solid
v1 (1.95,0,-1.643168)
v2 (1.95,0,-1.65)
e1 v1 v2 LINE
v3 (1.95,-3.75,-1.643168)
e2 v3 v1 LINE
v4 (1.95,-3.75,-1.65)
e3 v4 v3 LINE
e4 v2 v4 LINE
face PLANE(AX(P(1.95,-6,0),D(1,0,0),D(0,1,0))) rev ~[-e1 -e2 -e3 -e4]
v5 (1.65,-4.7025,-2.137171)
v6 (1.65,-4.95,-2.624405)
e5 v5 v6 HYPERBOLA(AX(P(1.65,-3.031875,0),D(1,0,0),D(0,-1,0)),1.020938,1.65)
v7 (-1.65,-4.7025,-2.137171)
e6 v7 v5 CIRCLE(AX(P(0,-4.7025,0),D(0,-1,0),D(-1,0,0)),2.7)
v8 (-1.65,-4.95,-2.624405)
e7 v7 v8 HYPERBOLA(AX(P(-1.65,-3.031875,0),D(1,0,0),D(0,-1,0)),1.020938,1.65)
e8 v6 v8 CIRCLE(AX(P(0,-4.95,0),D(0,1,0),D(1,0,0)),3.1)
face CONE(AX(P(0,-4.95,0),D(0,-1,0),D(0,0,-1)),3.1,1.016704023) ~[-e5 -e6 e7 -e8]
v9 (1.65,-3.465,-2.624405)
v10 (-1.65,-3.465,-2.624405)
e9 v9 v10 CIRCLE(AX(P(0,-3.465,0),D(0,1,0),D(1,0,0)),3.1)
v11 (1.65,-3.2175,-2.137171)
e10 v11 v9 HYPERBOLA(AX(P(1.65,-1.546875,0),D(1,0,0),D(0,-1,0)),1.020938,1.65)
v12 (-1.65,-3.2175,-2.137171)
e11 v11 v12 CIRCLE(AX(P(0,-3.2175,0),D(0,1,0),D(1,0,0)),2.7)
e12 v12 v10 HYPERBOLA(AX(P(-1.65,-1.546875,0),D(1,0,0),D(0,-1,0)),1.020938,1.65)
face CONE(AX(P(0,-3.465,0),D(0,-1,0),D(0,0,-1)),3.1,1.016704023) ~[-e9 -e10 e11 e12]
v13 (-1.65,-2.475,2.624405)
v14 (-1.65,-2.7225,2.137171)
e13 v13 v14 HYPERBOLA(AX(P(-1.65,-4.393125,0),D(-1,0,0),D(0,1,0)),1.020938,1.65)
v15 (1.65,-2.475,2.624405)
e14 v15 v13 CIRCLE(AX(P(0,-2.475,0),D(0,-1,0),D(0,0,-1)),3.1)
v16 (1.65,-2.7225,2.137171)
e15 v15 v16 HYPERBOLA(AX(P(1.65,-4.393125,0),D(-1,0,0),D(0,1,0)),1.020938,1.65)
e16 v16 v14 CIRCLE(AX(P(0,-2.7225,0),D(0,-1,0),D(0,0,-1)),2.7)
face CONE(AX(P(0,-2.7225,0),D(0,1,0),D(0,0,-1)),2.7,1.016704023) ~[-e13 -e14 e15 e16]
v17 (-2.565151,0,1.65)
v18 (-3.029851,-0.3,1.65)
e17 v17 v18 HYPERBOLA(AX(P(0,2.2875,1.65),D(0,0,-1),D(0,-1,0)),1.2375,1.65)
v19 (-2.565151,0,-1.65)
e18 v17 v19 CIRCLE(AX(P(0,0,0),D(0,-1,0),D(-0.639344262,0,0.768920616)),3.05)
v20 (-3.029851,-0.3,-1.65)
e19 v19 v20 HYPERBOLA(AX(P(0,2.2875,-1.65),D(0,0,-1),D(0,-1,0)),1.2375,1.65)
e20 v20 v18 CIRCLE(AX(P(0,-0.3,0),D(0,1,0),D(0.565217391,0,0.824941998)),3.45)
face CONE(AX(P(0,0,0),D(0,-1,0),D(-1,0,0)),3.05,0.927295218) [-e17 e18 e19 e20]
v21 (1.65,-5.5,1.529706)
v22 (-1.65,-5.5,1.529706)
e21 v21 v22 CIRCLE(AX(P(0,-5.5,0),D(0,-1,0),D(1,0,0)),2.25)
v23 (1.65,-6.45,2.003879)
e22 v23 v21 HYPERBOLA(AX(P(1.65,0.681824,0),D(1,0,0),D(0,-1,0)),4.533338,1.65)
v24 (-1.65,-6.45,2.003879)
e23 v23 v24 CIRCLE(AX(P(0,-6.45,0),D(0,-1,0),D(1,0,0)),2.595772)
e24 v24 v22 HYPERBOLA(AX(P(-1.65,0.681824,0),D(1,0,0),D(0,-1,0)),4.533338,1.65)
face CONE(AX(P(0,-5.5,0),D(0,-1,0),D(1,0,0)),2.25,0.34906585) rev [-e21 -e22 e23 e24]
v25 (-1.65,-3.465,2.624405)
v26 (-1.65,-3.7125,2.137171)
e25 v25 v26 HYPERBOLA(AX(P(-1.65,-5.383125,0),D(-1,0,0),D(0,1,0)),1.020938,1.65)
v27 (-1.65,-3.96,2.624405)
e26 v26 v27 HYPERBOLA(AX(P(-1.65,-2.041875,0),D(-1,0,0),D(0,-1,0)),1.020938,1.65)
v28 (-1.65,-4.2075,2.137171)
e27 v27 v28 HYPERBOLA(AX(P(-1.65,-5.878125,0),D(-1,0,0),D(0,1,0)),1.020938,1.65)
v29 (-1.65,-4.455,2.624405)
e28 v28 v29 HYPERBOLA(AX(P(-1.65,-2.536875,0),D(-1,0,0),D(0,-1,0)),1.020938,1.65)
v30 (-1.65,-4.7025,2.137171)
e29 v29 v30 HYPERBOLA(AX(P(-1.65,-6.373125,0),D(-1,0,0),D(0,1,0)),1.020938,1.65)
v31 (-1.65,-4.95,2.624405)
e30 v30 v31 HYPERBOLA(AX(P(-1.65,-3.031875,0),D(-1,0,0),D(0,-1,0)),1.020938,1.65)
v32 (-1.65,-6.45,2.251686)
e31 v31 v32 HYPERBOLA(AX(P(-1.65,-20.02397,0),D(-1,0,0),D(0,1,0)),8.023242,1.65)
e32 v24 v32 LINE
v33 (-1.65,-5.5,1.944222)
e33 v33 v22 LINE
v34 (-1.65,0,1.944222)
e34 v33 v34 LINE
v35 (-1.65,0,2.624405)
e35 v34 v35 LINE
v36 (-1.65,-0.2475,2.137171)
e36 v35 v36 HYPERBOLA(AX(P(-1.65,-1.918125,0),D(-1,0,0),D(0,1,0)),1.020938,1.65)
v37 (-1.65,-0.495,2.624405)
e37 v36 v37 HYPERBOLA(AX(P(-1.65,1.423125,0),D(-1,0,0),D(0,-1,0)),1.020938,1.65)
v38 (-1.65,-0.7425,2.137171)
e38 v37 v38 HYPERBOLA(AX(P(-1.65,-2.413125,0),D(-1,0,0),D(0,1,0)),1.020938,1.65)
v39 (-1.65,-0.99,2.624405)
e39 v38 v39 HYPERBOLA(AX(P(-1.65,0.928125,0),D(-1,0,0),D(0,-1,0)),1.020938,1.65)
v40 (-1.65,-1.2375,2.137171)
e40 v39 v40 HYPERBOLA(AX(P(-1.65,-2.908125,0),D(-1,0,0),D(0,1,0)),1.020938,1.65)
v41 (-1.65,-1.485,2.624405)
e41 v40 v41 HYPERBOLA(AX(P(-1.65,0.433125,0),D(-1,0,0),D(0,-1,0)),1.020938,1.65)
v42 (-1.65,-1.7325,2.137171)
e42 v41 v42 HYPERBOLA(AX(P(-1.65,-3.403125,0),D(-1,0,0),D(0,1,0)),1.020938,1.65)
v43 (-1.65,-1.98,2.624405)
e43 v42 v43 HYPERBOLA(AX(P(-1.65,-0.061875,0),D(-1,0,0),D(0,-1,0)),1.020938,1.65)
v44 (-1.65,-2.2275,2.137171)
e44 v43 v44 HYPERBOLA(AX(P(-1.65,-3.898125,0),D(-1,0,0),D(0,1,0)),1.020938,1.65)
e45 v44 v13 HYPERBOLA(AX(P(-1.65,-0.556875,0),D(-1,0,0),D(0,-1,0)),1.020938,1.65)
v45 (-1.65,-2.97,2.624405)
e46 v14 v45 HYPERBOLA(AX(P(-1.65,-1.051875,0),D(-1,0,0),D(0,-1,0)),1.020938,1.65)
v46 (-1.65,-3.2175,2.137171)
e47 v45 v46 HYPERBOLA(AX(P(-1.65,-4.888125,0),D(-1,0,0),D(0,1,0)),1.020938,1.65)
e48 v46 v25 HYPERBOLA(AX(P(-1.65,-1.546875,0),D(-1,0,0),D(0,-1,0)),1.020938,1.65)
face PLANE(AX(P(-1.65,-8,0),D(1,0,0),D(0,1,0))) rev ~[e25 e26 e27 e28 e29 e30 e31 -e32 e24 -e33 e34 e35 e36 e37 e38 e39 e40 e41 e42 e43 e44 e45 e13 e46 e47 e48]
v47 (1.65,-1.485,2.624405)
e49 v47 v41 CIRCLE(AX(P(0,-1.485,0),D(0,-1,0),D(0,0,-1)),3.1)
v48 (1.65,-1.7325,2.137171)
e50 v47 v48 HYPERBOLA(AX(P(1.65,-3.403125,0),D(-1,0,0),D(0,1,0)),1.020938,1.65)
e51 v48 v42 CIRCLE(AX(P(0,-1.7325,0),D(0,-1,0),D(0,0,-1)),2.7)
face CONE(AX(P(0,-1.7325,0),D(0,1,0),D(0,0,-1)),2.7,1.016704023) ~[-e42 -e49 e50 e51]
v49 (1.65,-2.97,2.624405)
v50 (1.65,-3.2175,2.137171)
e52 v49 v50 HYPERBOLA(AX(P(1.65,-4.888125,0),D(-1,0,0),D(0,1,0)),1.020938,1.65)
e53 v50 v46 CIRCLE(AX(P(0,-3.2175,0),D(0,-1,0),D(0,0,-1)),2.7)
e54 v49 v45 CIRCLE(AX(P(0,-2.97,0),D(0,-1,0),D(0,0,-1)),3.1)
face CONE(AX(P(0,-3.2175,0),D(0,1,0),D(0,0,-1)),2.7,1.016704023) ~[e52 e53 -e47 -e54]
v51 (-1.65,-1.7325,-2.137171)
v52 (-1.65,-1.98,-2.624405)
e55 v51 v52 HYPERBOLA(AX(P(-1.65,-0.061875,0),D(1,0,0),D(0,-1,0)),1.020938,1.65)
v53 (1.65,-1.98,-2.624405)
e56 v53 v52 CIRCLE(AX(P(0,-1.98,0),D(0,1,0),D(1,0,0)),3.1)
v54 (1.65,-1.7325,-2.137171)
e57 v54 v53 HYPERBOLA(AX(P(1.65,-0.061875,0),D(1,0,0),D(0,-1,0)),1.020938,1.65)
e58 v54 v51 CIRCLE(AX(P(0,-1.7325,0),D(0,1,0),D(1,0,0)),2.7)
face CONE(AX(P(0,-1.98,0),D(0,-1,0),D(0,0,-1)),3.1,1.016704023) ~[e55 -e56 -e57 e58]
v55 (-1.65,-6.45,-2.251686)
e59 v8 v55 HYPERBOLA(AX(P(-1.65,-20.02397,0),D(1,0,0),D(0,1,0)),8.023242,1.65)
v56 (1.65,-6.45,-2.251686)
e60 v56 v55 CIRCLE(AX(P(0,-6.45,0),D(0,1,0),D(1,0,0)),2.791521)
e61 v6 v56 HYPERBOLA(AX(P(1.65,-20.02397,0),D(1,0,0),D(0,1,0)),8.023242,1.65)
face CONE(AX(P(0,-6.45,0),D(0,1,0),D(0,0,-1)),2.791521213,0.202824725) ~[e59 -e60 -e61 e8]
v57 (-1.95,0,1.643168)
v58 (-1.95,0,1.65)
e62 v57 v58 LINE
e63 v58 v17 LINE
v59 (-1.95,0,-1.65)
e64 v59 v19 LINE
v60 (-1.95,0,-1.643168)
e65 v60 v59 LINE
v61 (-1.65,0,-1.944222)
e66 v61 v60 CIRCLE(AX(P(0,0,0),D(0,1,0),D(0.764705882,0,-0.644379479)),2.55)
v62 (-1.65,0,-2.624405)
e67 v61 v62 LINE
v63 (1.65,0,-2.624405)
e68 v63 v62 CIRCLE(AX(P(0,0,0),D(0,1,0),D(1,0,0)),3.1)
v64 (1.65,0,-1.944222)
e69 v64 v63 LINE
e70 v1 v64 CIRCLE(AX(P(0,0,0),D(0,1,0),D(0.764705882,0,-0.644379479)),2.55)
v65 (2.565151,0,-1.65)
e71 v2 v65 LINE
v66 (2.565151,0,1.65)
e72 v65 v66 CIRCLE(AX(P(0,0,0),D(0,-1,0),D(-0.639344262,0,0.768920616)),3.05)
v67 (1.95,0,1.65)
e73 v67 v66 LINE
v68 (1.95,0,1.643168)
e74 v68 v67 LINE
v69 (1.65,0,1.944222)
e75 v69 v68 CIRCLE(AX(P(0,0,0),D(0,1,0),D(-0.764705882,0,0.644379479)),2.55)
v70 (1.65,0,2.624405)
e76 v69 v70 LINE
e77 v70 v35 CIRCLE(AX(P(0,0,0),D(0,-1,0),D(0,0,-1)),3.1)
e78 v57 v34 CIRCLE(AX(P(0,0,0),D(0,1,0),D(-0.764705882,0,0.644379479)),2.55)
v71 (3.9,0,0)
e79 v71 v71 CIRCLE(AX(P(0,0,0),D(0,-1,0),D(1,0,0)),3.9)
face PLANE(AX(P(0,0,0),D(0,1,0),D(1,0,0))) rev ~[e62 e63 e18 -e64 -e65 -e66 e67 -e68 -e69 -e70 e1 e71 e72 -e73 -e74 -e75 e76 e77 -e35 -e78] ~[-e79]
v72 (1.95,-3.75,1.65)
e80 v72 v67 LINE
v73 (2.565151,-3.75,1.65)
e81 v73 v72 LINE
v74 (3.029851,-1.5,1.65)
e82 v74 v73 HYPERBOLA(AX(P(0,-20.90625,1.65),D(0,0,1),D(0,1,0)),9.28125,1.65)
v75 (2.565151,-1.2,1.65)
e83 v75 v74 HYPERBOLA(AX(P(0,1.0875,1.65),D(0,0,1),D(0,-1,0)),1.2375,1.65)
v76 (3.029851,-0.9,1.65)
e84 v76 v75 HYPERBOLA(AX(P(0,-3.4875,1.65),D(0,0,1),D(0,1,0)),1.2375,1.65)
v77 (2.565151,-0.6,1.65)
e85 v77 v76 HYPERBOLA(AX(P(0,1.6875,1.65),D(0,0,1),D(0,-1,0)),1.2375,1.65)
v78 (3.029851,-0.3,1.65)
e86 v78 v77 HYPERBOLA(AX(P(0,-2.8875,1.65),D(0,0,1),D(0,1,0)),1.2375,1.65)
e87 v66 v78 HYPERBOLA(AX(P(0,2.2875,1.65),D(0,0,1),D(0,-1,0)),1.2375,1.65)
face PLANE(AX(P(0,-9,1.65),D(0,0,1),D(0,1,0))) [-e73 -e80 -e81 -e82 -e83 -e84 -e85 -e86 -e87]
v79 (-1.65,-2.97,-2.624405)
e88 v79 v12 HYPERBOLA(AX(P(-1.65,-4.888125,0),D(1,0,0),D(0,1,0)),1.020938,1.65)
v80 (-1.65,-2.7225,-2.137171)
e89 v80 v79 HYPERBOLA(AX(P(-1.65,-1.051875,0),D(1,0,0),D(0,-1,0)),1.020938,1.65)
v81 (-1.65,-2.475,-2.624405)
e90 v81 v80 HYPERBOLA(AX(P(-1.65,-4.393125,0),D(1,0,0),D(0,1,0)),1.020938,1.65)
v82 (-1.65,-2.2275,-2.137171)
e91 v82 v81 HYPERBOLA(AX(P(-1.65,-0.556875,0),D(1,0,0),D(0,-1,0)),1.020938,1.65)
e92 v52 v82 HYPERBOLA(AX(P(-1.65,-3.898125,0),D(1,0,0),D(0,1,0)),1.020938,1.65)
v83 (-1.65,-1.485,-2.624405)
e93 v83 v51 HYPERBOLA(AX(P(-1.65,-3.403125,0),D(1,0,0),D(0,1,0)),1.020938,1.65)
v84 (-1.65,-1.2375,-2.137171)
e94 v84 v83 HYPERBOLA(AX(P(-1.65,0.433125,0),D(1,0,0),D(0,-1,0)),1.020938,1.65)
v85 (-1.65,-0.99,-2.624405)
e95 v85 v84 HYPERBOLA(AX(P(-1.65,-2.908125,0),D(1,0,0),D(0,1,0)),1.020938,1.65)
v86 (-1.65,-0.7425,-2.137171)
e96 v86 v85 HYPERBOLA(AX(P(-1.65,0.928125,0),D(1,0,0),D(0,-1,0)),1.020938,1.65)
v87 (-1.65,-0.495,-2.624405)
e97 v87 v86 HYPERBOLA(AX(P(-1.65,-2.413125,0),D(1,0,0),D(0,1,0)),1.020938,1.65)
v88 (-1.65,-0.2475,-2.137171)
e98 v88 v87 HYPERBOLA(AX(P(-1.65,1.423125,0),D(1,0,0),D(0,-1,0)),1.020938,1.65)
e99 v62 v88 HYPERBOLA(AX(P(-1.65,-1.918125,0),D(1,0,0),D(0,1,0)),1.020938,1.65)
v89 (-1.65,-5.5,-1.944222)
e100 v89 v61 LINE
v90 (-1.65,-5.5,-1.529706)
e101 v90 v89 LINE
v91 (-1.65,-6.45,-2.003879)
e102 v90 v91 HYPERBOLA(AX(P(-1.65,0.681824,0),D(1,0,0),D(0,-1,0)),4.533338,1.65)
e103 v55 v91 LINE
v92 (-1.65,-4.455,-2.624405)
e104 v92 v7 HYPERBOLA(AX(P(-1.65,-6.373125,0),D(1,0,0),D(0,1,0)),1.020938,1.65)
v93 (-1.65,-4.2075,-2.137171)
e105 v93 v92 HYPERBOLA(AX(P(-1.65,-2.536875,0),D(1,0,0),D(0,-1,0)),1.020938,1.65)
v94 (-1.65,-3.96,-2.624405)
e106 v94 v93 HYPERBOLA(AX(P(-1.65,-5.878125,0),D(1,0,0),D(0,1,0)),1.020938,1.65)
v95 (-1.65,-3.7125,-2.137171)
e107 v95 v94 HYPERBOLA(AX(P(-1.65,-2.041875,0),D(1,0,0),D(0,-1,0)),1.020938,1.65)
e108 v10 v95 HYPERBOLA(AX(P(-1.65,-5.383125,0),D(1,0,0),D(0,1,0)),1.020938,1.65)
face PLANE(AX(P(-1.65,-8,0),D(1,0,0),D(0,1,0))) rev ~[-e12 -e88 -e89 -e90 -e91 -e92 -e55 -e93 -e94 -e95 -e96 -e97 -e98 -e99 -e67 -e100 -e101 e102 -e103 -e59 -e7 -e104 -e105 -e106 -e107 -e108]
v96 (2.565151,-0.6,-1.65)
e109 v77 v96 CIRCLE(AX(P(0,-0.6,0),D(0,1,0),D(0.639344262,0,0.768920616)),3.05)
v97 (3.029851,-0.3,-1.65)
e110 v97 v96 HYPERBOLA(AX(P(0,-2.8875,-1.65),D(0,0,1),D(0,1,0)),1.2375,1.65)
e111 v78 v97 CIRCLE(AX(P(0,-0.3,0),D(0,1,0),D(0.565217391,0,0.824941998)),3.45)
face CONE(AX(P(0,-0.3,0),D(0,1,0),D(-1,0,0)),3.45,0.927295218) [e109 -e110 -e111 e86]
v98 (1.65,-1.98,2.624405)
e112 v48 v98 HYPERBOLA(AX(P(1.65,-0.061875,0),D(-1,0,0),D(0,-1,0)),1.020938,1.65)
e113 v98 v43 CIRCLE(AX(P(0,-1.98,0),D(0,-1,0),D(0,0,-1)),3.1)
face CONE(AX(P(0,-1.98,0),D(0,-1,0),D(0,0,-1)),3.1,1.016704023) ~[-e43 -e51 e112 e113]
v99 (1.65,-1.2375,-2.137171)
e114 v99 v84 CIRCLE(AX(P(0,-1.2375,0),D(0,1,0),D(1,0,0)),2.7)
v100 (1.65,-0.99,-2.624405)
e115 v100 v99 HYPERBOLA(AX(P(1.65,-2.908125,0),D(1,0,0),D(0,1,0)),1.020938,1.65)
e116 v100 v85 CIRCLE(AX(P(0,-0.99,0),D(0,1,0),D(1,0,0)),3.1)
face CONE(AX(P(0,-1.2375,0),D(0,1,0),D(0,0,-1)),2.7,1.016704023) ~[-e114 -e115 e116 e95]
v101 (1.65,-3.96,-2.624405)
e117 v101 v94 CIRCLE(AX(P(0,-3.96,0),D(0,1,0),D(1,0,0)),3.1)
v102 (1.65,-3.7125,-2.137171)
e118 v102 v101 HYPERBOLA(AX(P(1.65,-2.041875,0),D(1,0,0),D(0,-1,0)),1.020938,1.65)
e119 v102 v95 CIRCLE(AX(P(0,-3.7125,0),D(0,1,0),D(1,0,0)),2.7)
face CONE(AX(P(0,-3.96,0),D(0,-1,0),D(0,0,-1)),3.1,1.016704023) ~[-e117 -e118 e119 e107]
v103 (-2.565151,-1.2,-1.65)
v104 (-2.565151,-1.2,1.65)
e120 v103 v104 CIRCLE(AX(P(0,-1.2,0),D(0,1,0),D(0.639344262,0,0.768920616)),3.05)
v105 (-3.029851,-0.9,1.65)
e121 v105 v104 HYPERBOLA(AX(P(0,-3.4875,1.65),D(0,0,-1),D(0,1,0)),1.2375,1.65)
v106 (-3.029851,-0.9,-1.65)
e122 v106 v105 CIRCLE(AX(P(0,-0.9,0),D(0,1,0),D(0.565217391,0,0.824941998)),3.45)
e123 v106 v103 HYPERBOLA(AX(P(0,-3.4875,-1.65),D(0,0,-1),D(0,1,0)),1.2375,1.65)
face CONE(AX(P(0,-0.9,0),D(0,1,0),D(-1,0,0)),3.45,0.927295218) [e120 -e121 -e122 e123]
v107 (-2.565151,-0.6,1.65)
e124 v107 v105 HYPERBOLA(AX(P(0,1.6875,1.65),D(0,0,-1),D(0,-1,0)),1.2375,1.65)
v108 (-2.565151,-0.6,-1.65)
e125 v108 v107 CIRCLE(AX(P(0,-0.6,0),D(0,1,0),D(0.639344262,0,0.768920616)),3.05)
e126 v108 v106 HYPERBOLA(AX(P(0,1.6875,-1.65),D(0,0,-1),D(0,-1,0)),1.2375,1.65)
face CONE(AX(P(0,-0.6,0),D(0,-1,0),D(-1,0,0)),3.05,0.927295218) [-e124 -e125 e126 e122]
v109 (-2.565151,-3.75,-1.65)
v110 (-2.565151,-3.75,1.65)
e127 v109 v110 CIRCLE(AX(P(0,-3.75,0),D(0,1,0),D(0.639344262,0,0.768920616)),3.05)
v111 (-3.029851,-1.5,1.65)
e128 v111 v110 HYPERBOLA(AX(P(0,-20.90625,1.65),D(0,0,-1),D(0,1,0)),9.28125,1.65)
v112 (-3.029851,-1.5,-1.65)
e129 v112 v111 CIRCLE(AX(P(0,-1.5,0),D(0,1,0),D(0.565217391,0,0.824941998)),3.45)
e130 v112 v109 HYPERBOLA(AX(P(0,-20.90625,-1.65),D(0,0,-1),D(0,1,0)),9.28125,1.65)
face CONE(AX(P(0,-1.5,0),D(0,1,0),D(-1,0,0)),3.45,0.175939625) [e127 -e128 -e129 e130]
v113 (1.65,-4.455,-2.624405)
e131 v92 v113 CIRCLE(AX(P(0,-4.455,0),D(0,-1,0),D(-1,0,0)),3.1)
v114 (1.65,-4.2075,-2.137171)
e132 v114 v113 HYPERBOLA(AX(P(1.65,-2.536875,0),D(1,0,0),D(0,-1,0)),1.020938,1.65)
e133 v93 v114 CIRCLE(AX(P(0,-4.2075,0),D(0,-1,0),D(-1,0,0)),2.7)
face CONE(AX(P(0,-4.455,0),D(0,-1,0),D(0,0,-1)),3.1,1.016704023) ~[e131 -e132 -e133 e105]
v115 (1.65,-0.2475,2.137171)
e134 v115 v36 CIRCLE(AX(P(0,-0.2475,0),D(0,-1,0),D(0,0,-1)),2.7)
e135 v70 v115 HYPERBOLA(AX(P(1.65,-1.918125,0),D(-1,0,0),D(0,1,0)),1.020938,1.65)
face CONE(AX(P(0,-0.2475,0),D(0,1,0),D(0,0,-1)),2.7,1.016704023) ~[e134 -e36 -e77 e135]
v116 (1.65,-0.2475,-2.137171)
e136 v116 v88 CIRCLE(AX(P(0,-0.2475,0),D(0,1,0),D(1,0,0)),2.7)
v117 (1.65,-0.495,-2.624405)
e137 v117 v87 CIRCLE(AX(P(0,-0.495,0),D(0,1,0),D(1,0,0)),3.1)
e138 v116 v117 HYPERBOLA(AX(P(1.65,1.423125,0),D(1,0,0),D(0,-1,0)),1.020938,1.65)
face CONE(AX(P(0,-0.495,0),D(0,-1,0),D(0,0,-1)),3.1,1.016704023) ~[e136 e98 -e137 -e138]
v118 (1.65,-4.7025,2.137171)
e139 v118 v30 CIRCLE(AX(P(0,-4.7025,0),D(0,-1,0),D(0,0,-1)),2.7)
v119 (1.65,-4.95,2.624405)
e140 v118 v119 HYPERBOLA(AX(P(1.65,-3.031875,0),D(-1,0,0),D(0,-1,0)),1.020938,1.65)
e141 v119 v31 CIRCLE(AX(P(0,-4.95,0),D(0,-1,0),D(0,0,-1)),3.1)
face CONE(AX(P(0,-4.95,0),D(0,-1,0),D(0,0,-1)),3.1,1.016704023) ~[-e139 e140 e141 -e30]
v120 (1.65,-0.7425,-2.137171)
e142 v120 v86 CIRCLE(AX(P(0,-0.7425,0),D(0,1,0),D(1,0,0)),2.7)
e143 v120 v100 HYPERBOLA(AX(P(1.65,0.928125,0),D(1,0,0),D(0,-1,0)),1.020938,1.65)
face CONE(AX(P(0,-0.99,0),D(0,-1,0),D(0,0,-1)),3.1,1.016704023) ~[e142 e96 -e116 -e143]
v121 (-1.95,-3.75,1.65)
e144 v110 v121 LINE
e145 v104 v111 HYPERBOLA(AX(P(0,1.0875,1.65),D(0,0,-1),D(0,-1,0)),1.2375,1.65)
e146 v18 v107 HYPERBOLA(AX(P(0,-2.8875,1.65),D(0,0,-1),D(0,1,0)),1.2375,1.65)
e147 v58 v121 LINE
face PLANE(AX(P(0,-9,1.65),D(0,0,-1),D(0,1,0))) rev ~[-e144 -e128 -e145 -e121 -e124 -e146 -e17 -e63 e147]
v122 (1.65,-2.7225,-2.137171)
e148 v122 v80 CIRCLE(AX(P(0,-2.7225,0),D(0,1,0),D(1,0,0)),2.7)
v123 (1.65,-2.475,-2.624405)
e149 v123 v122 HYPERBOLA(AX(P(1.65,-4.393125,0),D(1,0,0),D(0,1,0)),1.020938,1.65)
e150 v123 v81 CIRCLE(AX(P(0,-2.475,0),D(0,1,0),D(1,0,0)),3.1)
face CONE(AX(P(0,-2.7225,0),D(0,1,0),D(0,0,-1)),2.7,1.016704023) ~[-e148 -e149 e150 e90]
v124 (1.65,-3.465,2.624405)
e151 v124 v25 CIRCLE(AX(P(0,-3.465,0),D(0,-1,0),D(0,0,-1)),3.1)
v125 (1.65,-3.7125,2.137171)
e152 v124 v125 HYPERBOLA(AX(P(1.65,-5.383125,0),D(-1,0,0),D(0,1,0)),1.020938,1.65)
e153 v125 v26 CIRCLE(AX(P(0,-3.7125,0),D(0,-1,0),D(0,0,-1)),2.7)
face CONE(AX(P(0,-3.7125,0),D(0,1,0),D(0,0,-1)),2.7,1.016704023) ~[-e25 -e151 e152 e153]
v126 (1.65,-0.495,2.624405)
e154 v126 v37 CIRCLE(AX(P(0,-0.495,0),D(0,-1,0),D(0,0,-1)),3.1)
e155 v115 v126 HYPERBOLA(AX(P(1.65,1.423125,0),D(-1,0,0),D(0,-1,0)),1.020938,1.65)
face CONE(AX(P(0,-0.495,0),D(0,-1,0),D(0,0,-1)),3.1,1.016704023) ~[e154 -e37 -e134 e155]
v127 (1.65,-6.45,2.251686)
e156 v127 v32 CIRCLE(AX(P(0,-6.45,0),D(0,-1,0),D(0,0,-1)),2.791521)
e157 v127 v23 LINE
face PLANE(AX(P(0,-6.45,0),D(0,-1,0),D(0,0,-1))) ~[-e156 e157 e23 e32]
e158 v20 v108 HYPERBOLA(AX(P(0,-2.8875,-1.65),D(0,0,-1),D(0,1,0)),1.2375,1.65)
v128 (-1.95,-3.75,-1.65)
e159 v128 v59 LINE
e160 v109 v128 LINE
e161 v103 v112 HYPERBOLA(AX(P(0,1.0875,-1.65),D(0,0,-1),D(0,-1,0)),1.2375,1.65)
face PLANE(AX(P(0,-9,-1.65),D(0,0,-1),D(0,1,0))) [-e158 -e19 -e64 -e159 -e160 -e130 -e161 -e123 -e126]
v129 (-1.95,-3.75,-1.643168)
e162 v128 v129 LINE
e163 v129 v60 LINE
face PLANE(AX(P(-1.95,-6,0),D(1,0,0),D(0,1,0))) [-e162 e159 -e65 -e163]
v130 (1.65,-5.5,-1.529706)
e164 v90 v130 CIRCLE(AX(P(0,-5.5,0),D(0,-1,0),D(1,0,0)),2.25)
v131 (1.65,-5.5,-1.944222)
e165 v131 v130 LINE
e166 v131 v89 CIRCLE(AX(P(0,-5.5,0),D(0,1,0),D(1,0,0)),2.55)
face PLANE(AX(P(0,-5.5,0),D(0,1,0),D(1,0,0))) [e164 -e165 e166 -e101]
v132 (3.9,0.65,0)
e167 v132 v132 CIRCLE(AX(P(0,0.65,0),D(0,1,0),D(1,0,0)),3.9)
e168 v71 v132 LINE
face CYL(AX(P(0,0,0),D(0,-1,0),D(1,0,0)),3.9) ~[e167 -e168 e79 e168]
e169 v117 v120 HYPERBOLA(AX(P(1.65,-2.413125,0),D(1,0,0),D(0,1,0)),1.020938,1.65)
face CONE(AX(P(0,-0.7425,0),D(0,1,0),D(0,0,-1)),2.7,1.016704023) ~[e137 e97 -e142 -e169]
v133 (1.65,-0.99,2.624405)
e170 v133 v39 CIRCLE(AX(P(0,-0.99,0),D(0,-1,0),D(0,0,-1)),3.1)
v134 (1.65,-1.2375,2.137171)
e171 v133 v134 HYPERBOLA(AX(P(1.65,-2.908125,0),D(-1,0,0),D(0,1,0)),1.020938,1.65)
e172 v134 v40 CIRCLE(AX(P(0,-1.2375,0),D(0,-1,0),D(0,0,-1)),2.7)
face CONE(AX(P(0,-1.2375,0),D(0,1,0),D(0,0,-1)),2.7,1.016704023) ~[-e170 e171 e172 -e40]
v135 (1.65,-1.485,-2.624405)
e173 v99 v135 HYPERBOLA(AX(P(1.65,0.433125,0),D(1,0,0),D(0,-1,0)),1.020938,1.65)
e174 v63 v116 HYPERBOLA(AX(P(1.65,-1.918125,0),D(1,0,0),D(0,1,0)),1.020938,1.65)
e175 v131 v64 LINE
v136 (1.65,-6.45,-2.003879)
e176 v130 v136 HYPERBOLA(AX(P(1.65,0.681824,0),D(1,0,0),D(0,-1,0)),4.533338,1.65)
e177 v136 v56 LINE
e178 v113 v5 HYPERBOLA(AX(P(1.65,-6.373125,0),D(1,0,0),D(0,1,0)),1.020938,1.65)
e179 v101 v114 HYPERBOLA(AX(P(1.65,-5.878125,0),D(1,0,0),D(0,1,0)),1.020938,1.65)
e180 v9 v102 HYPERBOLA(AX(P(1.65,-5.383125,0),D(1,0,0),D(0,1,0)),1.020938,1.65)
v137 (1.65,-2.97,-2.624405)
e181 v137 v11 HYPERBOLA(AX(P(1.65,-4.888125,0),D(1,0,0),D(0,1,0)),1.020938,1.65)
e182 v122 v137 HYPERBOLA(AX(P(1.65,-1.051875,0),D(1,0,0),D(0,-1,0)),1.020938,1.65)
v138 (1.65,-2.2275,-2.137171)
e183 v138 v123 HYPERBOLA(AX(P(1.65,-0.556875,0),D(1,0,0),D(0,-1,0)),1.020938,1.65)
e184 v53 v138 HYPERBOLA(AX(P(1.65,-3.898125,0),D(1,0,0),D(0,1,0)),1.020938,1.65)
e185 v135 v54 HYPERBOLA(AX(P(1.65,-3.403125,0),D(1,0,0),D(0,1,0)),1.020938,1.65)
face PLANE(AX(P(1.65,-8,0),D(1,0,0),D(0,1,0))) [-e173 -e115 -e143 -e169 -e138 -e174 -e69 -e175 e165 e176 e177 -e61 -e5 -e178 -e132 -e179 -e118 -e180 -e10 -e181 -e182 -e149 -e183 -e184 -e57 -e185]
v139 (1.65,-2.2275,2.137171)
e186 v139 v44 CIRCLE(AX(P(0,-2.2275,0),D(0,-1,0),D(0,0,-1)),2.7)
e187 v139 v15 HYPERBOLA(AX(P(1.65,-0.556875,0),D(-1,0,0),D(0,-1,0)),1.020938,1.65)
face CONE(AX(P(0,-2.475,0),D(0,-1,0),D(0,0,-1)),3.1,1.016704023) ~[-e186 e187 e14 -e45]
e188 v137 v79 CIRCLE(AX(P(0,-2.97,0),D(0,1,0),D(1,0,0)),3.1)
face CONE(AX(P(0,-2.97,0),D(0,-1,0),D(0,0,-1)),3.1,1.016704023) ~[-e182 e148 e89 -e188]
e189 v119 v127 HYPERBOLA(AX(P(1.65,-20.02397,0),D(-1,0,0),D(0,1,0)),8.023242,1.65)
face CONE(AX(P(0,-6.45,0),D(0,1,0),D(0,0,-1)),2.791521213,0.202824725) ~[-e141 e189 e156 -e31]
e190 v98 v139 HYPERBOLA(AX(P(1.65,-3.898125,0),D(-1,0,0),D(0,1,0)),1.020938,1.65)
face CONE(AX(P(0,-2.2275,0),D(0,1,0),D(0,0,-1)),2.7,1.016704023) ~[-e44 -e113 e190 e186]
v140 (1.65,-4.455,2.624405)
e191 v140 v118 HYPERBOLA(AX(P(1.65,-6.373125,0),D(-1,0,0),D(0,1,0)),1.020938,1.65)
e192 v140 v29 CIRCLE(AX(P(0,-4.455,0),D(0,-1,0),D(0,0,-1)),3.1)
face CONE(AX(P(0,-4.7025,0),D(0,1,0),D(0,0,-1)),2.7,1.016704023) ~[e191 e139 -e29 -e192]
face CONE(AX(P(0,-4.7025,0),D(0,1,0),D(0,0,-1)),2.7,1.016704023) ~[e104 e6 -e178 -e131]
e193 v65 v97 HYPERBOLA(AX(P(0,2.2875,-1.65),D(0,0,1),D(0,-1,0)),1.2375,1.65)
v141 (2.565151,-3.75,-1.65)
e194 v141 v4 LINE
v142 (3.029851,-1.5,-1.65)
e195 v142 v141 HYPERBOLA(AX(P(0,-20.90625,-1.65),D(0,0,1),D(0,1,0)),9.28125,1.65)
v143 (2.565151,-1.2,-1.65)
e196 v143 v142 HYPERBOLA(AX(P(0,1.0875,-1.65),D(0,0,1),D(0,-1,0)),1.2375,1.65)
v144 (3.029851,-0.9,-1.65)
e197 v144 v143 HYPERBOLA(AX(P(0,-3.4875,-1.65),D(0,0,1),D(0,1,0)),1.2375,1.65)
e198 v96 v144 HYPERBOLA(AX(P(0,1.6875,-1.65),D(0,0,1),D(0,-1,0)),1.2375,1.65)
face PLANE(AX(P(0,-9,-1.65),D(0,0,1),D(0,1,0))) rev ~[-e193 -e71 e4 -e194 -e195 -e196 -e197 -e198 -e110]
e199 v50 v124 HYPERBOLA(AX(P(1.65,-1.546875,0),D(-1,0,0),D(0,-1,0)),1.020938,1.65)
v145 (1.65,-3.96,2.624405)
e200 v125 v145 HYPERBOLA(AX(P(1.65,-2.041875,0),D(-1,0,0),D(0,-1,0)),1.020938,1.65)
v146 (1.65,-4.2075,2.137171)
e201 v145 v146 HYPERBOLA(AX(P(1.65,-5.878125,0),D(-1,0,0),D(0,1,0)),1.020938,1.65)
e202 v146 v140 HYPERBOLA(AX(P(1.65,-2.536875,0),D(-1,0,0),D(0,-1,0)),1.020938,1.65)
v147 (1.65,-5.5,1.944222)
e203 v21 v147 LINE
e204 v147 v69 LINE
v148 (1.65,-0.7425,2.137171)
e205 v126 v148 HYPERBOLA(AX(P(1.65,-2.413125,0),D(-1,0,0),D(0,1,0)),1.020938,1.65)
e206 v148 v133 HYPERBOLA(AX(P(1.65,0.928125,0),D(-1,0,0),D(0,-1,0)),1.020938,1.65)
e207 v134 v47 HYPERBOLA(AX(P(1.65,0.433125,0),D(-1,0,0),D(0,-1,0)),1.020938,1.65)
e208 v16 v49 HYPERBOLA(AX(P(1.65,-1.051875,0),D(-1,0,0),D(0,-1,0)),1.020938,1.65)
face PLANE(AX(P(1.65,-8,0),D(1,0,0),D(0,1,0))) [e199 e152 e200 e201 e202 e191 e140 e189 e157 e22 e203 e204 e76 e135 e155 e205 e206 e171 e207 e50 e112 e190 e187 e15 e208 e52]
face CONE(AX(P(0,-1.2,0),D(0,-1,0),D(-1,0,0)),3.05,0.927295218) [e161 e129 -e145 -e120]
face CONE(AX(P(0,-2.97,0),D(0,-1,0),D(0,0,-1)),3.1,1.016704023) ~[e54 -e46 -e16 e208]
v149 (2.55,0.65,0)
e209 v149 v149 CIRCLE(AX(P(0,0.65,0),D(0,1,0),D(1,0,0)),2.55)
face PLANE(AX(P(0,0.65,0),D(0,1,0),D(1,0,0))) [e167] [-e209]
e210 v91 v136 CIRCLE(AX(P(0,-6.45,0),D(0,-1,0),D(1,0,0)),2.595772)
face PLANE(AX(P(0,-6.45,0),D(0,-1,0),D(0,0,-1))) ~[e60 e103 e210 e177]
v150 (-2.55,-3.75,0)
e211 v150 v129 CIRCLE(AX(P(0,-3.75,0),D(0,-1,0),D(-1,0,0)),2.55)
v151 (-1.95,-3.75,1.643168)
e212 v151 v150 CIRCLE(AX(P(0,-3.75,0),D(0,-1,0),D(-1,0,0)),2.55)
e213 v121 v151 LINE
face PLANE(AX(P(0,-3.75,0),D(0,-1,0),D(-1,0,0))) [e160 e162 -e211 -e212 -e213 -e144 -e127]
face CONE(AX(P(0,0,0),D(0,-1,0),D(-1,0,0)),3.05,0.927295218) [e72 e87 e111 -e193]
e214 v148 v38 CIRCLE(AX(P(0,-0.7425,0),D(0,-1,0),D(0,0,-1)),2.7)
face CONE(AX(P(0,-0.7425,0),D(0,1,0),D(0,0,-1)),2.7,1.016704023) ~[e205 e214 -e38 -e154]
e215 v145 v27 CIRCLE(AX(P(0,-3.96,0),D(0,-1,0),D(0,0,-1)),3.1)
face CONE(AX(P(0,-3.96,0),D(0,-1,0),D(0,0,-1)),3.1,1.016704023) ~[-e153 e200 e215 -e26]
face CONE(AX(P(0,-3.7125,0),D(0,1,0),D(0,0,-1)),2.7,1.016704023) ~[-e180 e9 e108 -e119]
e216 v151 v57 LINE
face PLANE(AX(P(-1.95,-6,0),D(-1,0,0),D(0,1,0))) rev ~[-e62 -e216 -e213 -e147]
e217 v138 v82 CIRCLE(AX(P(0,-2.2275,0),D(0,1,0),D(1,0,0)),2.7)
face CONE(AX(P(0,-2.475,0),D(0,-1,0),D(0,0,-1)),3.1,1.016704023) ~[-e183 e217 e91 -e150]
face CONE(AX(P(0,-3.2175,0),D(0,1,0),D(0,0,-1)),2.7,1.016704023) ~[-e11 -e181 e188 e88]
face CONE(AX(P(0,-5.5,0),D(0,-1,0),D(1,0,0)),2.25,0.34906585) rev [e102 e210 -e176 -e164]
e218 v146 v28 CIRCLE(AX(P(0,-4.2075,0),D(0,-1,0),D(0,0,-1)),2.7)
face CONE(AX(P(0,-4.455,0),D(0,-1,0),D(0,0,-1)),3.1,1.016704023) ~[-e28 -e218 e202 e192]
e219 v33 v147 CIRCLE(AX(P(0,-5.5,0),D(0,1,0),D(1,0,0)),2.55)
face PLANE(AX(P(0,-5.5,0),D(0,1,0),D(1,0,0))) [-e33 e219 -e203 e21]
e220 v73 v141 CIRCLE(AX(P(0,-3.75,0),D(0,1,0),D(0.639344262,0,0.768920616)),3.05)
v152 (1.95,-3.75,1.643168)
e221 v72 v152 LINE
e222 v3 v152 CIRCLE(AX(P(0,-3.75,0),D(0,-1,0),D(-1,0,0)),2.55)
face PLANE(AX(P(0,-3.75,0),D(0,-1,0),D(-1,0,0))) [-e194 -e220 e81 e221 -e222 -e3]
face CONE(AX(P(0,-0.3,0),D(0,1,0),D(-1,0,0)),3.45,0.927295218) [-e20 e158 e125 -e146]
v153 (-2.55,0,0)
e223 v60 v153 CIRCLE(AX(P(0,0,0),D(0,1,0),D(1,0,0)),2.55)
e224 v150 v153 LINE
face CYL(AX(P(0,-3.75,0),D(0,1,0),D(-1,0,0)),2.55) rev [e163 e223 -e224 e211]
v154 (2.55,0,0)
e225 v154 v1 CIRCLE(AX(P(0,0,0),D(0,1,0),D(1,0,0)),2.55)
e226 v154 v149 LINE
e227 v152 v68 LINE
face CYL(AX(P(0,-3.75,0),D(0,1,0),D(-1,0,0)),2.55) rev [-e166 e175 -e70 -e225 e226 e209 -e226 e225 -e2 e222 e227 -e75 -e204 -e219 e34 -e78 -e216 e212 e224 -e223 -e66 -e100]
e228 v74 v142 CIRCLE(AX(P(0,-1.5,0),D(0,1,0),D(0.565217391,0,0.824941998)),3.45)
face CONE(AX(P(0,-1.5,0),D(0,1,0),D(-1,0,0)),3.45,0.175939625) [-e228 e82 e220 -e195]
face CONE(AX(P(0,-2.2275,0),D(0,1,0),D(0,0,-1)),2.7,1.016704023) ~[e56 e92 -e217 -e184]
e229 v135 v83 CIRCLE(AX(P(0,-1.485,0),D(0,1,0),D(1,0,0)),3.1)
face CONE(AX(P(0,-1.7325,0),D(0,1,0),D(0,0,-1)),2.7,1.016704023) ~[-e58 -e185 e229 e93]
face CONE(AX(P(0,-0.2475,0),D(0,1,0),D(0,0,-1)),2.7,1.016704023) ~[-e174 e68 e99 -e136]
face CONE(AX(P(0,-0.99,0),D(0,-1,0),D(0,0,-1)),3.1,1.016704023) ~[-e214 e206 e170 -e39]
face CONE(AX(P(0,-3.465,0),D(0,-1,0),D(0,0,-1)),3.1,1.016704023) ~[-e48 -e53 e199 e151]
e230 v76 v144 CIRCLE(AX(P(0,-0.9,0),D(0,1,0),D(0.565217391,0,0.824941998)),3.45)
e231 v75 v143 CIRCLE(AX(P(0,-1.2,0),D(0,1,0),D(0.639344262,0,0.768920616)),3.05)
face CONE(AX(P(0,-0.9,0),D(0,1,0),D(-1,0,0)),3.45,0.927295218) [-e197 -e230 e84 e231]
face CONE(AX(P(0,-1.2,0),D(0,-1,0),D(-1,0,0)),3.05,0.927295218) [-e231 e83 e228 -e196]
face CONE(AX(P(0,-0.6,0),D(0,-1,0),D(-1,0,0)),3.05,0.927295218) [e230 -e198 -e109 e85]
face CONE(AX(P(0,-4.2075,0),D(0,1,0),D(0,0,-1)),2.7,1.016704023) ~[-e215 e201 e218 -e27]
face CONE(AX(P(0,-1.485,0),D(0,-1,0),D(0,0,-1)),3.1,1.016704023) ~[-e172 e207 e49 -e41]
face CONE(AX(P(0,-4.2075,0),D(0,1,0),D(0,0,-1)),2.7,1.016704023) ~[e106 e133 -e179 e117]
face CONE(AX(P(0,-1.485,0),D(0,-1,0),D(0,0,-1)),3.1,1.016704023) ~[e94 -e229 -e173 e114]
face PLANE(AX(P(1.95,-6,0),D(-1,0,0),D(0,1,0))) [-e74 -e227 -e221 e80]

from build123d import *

# Parameters (mm, degrees)
SKETCH1_R               = 3.9
SKETCH1_R_2             = 2.55
BOSS_EXTRUDE1_DEPTH     = 0.65
SKETCH3_W               = 3.9
SKETCH3_H               = 6
CUT_EXTRUDE1_DEPTH      = 4.9
CUT_EXTRUDE1_DEPTH_BACK = 4.9
SKETCH4_W               = 3
SKETCH4_H               = 9
CUT_EXTRUDE2_DEPTH      = 4.9
CUT_EXTRUDE2_DEPTH_BACK = 4.9
SKETCH6_R               = 2.55
CUT_EXTRUDE3_DEPTH      = 5.5
SKETCH7_W               = 4
SKETCH7_H               = 8
CUT_EXTRUDE5_DEPTH      = 4.9
CUT_EXTRUDE5_DEPTH_BACK = 4.9
SKETCH9_R               = 2.25
CUT_EXTRUDE6_DEPTH      = 5.5
CUT_EXTRUDE6_TAPER      = -20


with BuildPart() as part:
    # Sketch1 → Boss-Extrude1 (new body)
    with BuildSketch(Plane(origin=(0, 0, 0), x_dir=(1, 0, 0), z_dir=(0, 1, 0))):
        Circle(SKETCH1_R)
        Circle(SKETCH1_R_2, mode=Mode.SUBTRACT)
    extrude(amount=BOSS_EXTRUDE1_DEPTH)

    # Sketch2 → Revolve1 (revolve)
    with BuildSketch(Plane.XY):
        Polygon((-2.55, 0), (-3.05, 0), (-3.45, -0.3), (-3.05, -0.6), (-3.45, -0.9), (-3.05, -1.2), (-3.45, -1.5), (-3.05, -3.75), (-2.55, -3.75), align=None)
    revolve(axis=Axis((0, 0, 0), (0, -1, 0)))

    # Sketch3 → Cut-Extrude1 (cut, two sides)
    with BuildSketch(Plane.XY) as cut_extrude1_sk:
        with Locations((0, -3)):
            Rectangle(SKETCH3_W, SKETCH3_H)
    extrude(amount=CUT_EXTRUDE1_DEPTH, mode=Mode.SUBTRACT)
    extrude(cut_extrude1_sk.sketch, amount=-CUT_EXTRUDE1_DEPTH_BACK, mode=Mode.SUBTRACT)

    # Sketch4 → Cut-Extrude2 (cut, two sides)
    with BuildSketch(Plane(origin=(0, 0, 0), x_dir=(0, 0, -1), z_dir=(1, 0, 0))) as cut_extrude2_sk:
        with Locations((-3.15, -4.5)):
            Rectangle(SKETCH4_W, SKETCH4_H)
        with Locations((3.15, -4.5)):
            Rectangle(SKETCH4_W, SKETCH4_H)
    extrude(amount=CUT_EXTRUDE2_DEPTH, mode=Mode.SUBTRACT)
    extrude(cut_extrude2_sk.sketch, amount=-CUT_EXTRUDE2_DEPTH_BACK, mode=Mode.SUBTRACT)


with BuildPart() as body_2:
    # Sketch5 → Revolve2 (revolve)
    with BuildSketch(Plane(origin=(0, 0, 0), x_dir=(0, 0, -1), z_dir=(1, 0, 0))):
        Polygon((3.1, -4.95), (2.7, -4.7025), (3.1, -4.455), (2.7, -4.2075), (3.1, -3.96), (2.7, -3.7125), (3.1, -3.465), (2.7, -3.2175), (3.1, -2.97), (2.7, -2.7225), (3.1, -2.475), (2.7, -2.2275), (3.1, -1.98), (2.7, -1.7325), (3.1, -1.485), (2.7, -1.2375), (3.1, -0.99), (2.7, -0.7425), (3.1, -0.495), (2.7, -0.2475), (3.1, 0), (0, 0), (0, -6.45), (2.791521213, -6.45), align=None)
    revolve(axis=Axis((0, 0, 0), (0, -1, 0)))

    # Sketch6 → Cut-Extrude3 (cut)
    with BuildSketch(Plane(origin=(0, 0, 0), x_dir=(1, 0, 0), z_dir=(0, 1, 0))):
        Circle(SKETCH6_R)
    extrude(amount=-CUT_EXTRUDE3_DEPTH, mode=Mode.SUBTRACT)

    # Sketch7 → Cut-Extrude5 (cut, two sides)
    with BuildSketch(Plane.XY) as cut_extrude5_sk:
        with Locations((3.65, -4)):
            Rectangle(SKETCH7_W, SKETCH7_H)
        with Locations((-3.65, -4)):
            Rectangle(SKETCH7_W, SKETCH7_H)
    extrude(amount=CUT_EXTRUDE5_DEPTH, mode=Mode.SUBTRACT)
    extrude(cut_extrude5_sk.sketch, amount=-CUT_EXTRUDE5_DEPTH_BACK, mode=Mode.SUBTRACT)

    # Sketch9 → Cut-Extrude6 (cut)
    with BuildSketch(Plane(origin=(0, -5.5, 0), x_dir=(1, 0, 0), z_dir=(0, 1, 0))):
        Circle(SKETCH9_R)
    extrude(amount=-CUT_EXTRUDE6_DEPTH, taper=CUT_EXTRUDE6_TAPER, mode=Mode.SUBTRACT)


with BuildPart() as part_1:
    add(part.part)

    # Combine1: union body 2
    add(body_2.part)


solid = part_1.part
